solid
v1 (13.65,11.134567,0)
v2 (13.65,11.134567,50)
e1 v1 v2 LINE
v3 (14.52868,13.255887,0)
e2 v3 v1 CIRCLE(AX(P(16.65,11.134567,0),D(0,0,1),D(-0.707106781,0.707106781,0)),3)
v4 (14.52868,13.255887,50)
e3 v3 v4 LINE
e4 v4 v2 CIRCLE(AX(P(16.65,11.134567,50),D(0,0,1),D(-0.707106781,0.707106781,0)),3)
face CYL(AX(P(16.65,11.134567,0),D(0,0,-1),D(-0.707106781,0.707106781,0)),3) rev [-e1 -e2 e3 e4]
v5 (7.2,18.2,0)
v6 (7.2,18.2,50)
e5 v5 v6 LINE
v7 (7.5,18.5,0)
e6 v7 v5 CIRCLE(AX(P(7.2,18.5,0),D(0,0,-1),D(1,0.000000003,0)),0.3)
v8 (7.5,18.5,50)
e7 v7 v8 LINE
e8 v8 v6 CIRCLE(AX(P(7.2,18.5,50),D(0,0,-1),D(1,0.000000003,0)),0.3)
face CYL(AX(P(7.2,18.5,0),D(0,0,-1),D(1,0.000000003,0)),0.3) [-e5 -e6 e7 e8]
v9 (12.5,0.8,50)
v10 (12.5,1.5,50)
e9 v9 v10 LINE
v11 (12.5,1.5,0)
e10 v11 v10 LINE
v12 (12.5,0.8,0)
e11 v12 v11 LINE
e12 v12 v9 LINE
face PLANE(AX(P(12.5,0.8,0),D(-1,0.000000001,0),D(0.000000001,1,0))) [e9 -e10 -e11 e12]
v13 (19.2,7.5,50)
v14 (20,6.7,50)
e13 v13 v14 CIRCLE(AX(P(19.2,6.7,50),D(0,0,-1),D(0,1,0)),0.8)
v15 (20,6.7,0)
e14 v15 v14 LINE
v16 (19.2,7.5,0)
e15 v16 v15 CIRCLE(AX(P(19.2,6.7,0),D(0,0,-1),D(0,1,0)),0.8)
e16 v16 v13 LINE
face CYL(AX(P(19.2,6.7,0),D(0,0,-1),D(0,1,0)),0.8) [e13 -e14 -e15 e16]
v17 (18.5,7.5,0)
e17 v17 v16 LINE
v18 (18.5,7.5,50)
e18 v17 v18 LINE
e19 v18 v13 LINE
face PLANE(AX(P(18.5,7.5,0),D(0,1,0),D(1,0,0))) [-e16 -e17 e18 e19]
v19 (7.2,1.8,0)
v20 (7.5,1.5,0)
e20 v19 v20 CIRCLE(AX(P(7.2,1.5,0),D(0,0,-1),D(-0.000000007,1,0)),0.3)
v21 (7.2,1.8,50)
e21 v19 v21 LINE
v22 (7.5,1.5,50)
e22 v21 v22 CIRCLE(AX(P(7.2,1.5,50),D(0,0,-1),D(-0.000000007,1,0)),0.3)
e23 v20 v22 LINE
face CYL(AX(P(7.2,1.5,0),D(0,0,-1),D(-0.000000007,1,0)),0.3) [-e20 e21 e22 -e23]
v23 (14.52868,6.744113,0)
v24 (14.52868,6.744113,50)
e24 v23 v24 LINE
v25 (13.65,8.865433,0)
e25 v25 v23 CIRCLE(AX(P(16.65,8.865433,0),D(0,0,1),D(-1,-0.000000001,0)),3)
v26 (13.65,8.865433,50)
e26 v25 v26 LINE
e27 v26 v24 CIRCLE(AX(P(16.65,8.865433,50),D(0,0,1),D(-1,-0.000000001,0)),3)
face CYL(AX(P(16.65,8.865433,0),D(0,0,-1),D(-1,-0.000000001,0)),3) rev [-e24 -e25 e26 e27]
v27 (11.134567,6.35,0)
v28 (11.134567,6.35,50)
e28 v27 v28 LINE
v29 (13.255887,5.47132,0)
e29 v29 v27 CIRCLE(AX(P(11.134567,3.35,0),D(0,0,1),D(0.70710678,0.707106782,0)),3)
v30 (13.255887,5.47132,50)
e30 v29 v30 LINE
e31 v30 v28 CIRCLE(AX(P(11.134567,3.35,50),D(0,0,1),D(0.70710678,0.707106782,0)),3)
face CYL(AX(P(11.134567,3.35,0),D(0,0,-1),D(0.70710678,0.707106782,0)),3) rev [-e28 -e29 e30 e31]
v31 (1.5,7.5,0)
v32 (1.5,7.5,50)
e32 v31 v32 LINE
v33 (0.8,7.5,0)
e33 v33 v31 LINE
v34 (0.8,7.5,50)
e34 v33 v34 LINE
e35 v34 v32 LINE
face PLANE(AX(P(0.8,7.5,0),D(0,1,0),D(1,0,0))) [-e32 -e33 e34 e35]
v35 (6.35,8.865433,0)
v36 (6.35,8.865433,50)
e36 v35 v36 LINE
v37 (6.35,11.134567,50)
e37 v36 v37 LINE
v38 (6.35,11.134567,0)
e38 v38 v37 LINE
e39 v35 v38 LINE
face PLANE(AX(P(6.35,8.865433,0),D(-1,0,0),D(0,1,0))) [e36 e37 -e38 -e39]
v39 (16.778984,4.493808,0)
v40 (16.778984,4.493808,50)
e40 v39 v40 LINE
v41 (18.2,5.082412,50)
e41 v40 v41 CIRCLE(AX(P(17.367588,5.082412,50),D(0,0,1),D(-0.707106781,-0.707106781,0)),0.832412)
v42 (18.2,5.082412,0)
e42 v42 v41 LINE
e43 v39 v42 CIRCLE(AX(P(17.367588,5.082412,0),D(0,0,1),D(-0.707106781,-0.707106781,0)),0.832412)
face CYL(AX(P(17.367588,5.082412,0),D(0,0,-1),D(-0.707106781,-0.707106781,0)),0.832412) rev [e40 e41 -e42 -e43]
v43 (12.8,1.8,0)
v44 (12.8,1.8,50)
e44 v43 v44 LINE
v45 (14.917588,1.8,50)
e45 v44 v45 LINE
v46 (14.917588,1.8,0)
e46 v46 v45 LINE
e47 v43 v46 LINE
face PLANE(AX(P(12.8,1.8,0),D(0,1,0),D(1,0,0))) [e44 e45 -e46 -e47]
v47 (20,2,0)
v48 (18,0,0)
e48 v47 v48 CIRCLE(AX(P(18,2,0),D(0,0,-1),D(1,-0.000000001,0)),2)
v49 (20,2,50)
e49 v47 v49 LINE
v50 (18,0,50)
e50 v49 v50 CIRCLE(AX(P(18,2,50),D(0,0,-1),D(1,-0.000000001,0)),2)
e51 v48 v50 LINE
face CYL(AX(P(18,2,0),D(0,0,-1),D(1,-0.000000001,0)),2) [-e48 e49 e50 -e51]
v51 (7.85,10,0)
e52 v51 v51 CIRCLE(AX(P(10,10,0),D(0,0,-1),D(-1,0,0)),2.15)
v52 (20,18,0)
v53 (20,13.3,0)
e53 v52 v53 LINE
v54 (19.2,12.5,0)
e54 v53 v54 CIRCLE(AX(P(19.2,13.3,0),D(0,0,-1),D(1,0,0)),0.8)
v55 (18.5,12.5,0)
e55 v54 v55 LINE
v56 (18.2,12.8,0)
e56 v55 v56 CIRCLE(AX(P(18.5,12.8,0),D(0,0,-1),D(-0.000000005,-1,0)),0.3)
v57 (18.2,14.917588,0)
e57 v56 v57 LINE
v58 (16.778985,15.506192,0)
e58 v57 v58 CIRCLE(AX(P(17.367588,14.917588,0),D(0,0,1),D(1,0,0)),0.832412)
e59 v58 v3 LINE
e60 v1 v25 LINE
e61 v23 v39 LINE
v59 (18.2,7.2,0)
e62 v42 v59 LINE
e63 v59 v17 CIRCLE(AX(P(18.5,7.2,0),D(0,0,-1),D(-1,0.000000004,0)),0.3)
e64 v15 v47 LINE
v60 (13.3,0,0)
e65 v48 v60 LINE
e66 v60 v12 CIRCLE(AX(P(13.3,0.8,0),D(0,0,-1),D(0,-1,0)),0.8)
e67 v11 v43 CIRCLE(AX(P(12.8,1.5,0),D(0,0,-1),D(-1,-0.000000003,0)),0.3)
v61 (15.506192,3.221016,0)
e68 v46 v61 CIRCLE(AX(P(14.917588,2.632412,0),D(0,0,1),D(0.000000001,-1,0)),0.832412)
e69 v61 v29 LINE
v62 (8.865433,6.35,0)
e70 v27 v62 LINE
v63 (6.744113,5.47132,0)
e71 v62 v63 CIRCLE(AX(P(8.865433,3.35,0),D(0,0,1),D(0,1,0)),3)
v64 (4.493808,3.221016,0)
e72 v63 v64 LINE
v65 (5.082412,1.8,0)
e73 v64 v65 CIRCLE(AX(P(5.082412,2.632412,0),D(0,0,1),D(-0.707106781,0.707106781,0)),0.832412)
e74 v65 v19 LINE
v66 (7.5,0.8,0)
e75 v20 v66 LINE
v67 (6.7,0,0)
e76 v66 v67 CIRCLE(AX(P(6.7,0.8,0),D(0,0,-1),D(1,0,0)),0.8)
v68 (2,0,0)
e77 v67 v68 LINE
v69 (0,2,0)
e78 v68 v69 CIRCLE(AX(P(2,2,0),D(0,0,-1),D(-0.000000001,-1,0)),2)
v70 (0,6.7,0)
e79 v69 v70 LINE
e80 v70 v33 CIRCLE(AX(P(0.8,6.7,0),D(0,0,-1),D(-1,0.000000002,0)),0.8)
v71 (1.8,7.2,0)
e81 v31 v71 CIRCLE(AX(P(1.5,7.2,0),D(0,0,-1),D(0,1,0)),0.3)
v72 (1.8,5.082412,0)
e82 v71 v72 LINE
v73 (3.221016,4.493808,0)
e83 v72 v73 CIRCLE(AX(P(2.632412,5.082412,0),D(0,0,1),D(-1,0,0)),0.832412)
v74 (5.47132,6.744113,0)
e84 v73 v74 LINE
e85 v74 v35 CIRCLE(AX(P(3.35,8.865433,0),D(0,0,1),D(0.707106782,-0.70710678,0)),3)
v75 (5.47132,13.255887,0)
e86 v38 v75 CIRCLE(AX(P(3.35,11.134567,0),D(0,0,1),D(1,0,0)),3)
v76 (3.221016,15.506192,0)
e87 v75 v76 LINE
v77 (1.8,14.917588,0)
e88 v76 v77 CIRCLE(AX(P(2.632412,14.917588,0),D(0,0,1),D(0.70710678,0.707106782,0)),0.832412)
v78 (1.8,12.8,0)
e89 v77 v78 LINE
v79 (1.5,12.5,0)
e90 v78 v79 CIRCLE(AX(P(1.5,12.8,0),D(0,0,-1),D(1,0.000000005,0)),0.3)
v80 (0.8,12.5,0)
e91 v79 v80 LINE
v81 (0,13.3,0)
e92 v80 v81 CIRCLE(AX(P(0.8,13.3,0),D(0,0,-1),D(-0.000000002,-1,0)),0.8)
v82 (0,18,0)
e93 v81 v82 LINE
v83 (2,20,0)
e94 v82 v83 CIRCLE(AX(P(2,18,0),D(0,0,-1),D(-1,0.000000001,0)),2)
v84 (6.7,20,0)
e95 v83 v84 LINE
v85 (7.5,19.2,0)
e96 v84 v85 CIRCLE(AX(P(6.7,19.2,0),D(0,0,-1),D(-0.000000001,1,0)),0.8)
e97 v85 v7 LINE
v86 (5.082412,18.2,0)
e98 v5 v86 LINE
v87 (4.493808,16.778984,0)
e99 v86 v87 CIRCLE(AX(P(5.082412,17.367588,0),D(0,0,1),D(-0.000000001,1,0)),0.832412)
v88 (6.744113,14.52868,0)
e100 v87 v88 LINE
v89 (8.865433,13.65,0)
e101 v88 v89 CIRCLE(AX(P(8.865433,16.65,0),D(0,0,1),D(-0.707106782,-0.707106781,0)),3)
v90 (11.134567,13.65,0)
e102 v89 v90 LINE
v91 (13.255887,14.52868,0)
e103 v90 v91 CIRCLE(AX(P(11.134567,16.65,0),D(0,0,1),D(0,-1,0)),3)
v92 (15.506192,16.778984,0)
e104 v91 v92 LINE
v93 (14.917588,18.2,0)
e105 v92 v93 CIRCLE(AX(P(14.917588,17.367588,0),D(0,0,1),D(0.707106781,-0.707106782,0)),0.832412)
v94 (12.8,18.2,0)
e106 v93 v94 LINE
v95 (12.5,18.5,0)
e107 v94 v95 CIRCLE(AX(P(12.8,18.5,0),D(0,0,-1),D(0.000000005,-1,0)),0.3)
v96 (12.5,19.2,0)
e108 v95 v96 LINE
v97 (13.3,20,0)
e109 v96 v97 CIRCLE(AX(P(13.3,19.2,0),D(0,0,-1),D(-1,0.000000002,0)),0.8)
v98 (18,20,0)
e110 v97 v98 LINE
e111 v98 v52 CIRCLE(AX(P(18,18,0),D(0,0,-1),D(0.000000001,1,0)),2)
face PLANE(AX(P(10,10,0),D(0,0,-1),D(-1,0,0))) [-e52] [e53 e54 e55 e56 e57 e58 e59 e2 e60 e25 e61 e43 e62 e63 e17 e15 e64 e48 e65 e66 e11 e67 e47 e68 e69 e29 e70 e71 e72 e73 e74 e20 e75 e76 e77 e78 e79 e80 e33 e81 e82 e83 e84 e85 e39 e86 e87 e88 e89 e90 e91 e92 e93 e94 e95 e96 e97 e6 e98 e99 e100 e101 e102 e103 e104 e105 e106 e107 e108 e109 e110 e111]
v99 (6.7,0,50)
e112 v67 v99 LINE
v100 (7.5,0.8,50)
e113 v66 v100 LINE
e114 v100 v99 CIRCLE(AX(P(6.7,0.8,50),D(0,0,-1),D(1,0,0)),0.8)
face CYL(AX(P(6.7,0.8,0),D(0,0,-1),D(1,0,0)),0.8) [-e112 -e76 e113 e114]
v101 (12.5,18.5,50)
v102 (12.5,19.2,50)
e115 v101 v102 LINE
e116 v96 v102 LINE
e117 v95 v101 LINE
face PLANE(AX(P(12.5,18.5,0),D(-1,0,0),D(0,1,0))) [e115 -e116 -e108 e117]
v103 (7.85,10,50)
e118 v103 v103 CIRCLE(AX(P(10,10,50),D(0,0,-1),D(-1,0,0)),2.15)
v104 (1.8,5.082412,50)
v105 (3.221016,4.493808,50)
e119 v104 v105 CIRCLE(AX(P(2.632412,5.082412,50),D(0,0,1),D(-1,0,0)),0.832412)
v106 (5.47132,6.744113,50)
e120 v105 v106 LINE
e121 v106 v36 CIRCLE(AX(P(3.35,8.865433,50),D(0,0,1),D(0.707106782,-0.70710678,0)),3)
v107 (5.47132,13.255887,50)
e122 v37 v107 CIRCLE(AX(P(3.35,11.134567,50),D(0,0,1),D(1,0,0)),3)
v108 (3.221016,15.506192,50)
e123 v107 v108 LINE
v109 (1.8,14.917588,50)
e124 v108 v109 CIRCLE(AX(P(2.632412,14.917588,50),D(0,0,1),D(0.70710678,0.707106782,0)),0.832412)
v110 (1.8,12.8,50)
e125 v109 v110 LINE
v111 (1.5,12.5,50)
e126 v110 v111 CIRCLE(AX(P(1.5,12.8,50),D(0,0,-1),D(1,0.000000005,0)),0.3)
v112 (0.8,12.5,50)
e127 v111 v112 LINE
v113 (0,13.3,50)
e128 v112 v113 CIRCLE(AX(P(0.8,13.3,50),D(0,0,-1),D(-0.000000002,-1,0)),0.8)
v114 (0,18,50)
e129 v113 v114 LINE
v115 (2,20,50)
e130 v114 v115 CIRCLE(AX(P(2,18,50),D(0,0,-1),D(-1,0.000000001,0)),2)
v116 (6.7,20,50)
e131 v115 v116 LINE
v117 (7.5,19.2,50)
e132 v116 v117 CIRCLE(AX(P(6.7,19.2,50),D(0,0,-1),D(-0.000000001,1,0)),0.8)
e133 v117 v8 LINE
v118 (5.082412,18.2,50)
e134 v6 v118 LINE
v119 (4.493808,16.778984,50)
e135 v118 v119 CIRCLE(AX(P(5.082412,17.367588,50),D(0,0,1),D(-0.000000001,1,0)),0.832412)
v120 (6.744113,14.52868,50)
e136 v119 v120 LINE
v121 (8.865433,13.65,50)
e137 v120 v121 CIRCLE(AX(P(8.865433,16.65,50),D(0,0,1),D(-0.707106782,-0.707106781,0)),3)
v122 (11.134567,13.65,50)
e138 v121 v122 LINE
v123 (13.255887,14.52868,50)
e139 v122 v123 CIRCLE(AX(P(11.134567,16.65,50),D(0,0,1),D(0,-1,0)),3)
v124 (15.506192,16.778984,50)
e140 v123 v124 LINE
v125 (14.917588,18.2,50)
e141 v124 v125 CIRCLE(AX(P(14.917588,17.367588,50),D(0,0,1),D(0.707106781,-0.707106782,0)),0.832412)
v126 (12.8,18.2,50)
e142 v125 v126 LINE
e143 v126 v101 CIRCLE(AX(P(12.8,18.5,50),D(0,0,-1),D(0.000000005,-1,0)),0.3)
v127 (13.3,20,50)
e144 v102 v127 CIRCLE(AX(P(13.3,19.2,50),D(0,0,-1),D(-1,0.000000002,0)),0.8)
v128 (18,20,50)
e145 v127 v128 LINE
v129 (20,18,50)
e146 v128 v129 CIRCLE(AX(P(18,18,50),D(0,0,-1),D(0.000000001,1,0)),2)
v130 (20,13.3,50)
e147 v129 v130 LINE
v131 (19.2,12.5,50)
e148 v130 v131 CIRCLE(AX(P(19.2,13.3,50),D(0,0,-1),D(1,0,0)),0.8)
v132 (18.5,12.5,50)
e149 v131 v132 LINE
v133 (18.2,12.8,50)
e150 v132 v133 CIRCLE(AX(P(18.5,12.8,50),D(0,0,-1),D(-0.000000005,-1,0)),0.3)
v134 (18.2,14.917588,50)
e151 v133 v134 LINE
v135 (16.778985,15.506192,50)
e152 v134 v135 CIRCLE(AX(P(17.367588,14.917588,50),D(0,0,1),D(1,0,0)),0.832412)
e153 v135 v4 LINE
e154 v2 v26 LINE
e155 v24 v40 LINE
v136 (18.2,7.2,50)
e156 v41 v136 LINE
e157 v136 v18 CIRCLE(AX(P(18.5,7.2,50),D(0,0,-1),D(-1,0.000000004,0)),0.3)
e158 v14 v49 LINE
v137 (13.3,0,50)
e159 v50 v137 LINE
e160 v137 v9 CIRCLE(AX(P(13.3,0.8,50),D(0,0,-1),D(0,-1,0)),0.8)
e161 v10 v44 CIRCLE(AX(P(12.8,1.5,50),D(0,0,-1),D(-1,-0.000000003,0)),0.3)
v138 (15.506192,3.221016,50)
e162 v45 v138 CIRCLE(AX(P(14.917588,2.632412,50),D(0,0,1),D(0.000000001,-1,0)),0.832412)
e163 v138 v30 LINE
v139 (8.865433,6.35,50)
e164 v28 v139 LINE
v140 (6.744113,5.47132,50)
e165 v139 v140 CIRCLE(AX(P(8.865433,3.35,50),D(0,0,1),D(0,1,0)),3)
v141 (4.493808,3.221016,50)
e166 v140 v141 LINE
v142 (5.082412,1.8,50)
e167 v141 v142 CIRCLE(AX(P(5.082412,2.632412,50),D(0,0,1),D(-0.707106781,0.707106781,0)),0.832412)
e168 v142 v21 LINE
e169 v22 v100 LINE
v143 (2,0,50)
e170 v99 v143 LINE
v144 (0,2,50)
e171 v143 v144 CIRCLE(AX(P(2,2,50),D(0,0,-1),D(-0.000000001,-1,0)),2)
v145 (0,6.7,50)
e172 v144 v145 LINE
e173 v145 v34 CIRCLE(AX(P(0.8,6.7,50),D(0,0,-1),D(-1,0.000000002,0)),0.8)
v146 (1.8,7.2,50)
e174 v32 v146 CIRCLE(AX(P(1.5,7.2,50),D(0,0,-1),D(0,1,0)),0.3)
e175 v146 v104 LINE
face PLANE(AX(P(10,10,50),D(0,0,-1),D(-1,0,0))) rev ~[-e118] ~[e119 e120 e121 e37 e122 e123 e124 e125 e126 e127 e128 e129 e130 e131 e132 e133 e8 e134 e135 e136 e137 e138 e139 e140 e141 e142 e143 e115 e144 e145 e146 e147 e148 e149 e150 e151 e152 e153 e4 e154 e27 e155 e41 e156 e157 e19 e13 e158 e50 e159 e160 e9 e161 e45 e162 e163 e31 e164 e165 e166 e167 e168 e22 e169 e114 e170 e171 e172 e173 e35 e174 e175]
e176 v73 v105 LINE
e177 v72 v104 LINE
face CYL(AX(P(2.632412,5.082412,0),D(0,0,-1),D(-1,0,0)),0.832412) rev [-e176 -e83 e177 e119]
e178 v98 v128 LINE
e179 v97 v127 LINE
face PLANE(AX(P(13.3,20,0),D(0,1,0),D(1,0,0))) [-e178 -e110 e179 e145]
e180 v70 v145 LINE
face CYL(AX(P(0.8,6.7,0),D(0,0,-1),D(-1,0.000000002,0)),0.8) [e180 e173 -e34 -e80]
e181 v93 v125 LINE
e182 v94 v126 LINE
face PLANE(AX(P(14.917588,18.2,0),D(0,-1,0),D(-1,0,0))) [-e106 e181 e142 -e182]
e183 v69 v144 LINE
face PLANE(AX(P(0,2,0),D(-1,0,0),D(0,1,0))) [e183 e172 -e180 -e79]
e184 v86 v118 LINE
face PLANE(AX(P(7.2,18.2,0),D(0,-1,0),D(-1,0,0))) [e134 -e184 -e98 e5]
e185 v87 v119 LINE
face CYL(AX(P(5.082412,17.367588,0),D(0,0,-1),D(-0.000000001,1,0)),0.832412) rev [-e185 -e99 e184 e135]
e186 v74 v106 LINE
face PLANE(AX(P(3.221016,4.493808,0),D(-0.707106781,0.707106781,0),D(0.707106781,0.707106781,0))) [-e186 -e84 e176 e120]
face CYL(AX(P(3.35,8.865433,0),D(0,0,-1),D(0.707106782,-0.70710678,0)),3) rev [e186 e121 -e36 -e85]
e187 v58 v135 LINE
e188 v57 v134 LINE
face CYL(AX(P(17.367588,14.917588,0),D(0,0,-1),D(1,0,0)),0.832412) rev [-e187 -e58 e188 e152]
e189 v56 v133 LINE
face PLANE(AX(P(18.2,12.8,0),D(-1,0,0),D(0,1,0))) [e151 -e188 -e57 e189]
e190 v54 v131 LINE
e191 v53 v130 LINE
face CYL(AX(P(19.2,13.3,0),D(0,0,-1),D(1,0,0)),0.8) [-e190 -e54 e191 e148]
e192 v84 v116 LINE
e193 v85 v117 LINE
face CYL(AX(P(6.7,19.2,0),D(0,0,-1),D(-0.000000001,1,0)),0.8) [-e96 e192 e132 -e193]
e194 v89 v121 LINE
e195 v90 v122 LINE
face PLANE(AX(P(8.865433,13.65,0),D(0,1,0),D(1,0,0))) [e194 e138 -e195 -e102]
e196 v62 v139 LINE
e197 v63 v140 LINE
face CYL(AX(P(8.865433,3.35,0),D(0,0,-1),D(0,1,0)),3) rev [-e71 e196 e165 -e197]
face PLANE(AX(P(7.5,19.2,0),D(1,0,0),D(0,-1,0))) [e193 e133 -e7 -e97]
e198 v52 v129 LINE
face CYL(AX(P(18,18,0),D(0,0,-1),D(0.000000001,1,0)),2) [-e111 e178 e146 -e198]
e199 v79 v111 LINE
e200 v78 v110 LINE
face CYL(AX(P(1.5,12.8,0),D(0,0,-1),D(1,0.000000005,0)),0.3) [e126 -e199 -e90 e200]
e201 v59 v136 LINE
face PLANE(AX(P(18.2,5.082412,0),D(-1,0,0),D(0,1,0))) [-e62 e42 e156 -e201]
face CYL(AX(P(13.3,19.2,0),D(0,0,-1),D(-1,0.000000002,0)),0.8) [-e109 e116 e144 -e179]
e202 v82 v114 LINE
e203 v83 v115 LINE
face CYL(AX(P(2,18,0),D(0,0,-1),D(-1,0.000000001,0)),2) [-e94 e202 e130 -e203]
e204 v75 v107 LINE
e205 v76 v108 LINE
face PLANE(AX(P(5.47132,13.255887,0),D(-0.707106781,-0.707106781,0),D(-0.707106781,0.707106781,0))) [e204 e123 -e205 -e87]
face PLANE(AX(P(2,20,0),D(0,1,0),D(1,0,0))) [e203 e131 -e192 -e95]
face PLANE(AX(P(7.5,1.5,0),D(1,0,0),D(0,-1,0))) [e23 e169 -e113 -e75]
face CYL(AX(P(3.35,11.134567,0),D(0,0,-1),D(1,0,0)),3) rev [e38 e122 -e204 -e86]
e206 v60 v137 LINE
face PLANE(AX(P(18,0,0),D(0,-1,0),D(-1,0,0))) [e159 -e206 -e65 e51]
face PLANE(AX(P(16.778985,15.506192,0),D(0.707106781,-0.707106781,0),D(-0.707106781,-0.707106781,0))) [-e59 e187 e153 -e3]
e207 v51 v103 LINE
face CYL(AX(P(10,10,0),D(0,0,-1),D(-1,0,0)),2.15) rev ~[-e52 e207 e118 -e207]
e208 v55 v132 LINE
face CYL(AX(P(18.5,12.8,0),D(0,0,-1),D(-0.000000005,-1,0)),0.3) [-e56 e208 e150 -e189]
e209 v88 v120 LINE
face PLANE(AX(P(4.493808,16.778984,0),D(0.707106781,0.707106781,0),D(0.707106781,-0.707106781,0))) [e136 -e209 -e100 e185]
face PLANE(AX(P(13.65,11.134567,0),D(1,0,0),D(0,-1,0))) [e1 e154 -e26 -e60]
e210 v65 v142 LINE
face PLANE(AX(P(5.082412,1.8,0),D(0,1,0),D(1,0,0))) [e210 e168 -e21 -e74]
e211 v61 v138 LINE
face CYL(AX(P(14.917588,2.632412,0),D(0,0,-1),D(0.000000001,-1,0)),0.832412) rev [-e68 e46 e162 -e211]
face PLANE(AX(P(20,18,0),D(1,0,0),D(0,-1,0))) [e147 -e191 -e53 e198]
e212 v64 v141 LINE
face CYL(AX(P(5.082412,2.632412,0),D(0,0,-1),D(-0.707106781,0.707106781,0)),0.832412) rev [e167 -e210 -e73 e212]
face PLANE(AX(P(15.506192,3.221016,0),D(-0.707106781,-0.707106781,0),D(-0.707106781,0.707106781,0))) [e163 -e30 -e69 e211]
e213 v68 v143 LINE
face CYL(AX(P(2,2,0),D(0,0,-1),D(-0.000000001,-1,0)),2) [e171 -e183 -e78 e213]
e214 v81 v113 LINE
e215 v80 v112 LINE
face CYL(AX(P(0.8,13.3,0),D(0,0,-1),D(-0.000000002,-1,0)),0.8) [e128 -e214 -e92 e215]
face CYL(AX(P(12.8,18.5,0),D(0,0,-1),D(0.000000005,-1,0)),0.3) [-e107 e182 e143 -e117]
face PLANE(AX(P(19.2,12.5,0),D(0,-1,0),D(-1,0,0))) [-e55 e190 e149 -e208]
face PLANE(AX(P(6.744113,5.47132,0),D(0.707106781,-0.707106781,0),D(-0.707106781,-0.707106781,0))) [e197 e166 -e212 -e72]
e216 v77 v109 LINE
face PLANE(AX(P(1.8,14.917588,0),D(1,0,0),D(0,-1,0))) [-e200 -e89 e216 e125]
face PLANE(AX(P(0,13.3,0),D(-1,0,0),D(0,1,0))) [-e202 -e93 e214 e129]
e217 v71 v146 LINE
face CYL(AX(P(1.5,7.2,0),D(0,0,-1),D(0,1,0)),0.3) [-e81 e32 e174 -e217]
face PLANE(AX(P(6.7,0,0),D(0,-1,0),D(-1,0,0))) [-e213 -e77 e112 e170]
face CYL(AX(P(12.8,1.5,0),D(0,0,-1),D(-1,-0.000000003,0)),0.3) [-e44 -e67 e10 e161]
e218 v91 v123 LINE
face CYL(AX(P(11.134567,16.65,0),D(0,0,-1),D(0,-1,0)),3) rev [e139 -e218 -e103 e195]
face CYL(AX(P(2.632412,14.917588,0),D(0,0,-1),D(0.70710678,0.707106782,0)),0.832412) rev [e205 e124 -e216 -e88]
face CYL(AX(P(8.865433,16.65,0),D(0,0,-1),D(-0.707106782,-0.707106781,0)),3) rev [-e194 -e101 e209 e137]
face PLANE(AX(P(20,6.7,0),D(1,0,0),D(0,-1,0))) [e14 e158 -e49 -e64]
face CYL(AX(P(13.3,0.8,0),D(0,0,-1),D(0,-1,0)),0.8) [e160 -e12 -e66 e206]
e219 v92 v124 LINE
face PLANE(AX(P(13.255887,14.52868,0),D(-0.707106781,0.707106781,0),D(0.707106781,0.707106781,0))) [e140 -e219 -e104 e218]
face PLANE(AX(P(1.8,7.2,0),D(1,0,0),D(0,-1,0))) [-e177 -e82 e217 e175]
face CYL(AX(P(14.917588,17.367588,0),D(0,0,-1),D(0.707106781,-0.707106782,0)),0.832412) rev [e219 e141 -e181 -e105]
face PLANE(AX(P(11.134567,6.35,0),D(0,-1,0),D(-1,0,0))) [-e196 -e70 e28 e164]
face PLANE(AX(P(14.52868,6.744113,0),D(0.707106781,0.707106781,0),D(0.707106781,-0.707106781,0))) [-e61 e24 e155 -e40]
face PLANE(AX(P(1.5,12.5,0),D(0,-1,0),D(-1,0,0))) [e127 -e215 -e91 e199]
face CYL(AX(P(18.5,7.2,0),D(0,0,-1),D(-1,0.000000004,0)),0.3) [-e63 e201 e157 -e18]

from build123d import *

# Parameters (mm, degrees)
SKETCH1_R           = 2.15
BOSS_EXTRUDE1_DEPTH = 50


with BuildPart() as part:
    # Sketch1 → Boss-Extrude1 (new body)
    with BuildSketch(Plane(origin=(0, 0, 0), x_dir=(-1, 0, 0), z_dir=(0, 0, -1))):
        with BuildLine():
            Line((-12.499999997, 0.800000003), (-12.499999998, 1.500000003))
            ThreePointArc((-12.499999998, 1.500000003), (-12.587867964, 1.712132039), (-12.8, 1.800000005))
            Line((-12.8, 1.800000005), (-14.9175884, 1.800000005))
            ThreePointArc((-14.9175884, 1.800000005), (-15.686636445, 2.313861481), (-15.506192291, 3.221015502))
            Line((-15.506192291, 3.221015502), (-13.255887451, 5.471320342))
            ThreePointArc((-13.255887451, 5.471320342), (-12.282617405, 6.121638595), (-11.134567109, 6.349999998))
            Line((-11.134567109, 6.349999998), (-8.865432906, 6.349999998))
            ThreePointArc((-8.865432906, 6.349999998), (-7.717382611, 6.121638596), (-6.744112565, 5.471320342))
            Line((-6.744112565, 5.471320342), (-4.493807727, 3.221015504))
            ThreePointArc((-4.493807727, 3.221015504), (-4.313363573, 2.313861481), (-5.082411619, 1.800000005))
            Line((-5.082411619, 1.800000005), (-7.20000001, 1.800000005))
            ThreePointArc((-7.20000001, 1.800000005), (-7.412132045, 1.71213204), (-7.50000001, 1.500000005))
            Line((-7.50000001, 1.500000005), (-7.50000001, 0.8))
            ThreePointArc((-7.50000001, 0.8), (-7.265685435, 0.234314575), (-6.70000001, 0))
            Line((-6.70000001, 0), (-2, 0))
            ThreePointArc((-2, 0), (-0.585786438, 0.585786438), (0, 2))
            Line((0, 2), (0, 6.699999998))
            ThreePointArc((0, 6.699999998), (-0.234314576, 7.265685424), (-0.800000003, 7.5))
            Line((-0.800000003, 7.5), (-1.500000007, 7.5))
            ThreePointArc((-1.500000007, 7.5), (-1.712132044, 7.412132033), (-1.80000001, 7.199999997))
            Line((-1.80000001, 7.199999997), (-1.80000001, 5.082411604))
            ThreePointArc((-1.80000001, 5.082411604), (-2.313861485, 4.313363559), (-3.221015507, 4.493807713))
            Line((-3.221015507, 4.493807713), (-5.471320347, 6.744112553))
            ThreePointArc((-5.471320347, 6.744112553), (-6.1216386, 7.717382599), (-6.350000003, 8.865432896))
            Line((-6.350000003, 8.865432896), (-6.350000003, 11.134567105))
            ThreePointArc((-6.350000003, 11.134567105), (-6.121638601, 12.2826174), (-5.471320347, 13.255887446))
            Line((-5.471320347, 13.255887446), (-3.221015511, 15.506192282))
            ThreePointArc((-3.221015511, 15.506192282), (-2.313861487, 15.686636436), (-1.80000001, 14.917588389))
            Line((-1.80000001, 14.917588389), (-1.80000001, 12.799999998))
            ThreePointArc((-1.80000001, 12.799999998), (-1.712132045, 12.587867963), (-1.50000001, 12.499999997))
            Line((-1.50000001, 12.499999997), (-0.8, 12.499999997))
            ThreePointArc((-0.8, 12.499999997), (-0.234314575, 12.734314573), (0, 13.299999998))
            Line((0, 13.299999998), (0, 18))
            ThreePointArc((0, 18), (-0.585786438, 19.414213562), (-2, 20))
            Line((-2, 20), (-6.700000008, 20))
            ThreePointArc((-6.700000008, 20), (-7.265685435, 19.765685424), (-7.50000001, 19.199999998))
            Line((-7.50000001, 19.199999998), (-7.50000001, 18.500000005))
            ThreePointArc((-7.50000001, 18.500000005), (-7.412132044, 18.287867969), (-7.200000008, 18.200000003))
            Line((-7.200000008, 18.200000003), (-5.082411595, 18.200000003))
            ThreePointArc((-5.082411595, 18.200000003), (-4.313363547, 17.686138525), (-4.493807702, 16.7789845))
            Line((-4.493807702, 16.7789845), (-6.744112543, 14.528679659))
            ThreePointArc((-6.744112543, 14.528679659), (-7.717382589, 13.878361405), (-8.865432885, 13.650000003))
            Line((-8.865432885, 13.650000003), (-11.134567111, 13.650000003))
            ThreePointArc((-11.134567111, 13.650000003), (-12.282617406, 13.878361405), (-13.255887452, 14.528679658))
            Line((-13.255887452, 14.528679658), (-15.506192292, 16.778984498))
            ThreePointArc((-15.506192292, 16.778984498), (-15.686636447, 17.686138525), (-14.917588397, 18.200000002))
            Line((-14.917588397, 18.200000002), (-12.799999998, 18.200000003))
            ThreePointArc((-12.799999998, 18.200000003), (-12.587867963, 18.287867968), (-12.499999997, 18.500000002))
            Line((-12.499999997, 18.500000002), (-12.499999997, 19.2))
            ThreePointArc((-12.499999997, 19.2), (-12.734314573, 19.765685425), (-13.299999998, 20))
            Line((-13.299999998, 20), (-18, 20))
            ThreePointArc((-18, 20), (-19.414213562, 19.414213562), (-20, 18))
            Line((-20, 18), (-20, 13.3))
            ThreePointArc((-20, 13.3), (-19.765685424, 12.734314573), (-19.199999998, 12.499999997))
            Line((-19.199999998, 12.499999997), (-18.500000003, 12.499999997))
            ThreePointArc((-18.500000003, 12.499999997), (-18.287867967, 12.587867964), (-18.2, 12.8))
            Line((-18.2, 12.8), (-18.2, 14.91758839))
            ThreePointArc((-18.2, 14.91758839), (-17.686138525, 15.686636435), (-16.778984504, 15.506192281))
            Line((-16.778984504, 15.506192281), (-14.528679657, 13.255887434))
            ThreePointArc((-14.528679657, 13.255887434), (-13.878361403, 12.282617388), (-13.65, 11.134567091))
            Line((-13.65, 11.134567091), (-13.65, 8.865432887))
            ThreePointArc((-13.65, 8.865432887), (-13.878361403, 7.717382591), (-14.528679656, 6.744112546))
            Line((-14.528679656, 6.744112546), (-16.778984496, 4.493807706))
            ThreePointArc((-16.778984496, 4.493807706), (-17.686138522, 4.313363551), (-18.2, 5.0824116))
            Line((-18.2, 5.0824116), (-18.2, 7.2))
            ThreePointArc((-18.2, 7.2), (-18.287867966, 7.412132034), (-18.5, 7.5))
            Line((-18.5, 7.5), (-19.2, 7.5))
            ThreePointArc((-19.2, 7.5), (-19.765685425, 7.265685425), (-20, 6.7))
            Line((-20, 6.7), (-20, 2))
            ThreePointArc((-20, 2), (-19.414213562, 0.585786438), (-18, 0))
            Line((-18, 0), (-13.3, 0))
            ThreePointArc((-13.3, 0), (-12.734314573, 0.234314576), (-12.499999997, 0.800000003))
        make_face()
        with Locations((-10, 10)):
            Circle(SKETCH1_R, mode=Mode.SUBTRACT)
    extrude(amount=-BOSS_EXTRUDE1_DEPTH)


solid = part.part
